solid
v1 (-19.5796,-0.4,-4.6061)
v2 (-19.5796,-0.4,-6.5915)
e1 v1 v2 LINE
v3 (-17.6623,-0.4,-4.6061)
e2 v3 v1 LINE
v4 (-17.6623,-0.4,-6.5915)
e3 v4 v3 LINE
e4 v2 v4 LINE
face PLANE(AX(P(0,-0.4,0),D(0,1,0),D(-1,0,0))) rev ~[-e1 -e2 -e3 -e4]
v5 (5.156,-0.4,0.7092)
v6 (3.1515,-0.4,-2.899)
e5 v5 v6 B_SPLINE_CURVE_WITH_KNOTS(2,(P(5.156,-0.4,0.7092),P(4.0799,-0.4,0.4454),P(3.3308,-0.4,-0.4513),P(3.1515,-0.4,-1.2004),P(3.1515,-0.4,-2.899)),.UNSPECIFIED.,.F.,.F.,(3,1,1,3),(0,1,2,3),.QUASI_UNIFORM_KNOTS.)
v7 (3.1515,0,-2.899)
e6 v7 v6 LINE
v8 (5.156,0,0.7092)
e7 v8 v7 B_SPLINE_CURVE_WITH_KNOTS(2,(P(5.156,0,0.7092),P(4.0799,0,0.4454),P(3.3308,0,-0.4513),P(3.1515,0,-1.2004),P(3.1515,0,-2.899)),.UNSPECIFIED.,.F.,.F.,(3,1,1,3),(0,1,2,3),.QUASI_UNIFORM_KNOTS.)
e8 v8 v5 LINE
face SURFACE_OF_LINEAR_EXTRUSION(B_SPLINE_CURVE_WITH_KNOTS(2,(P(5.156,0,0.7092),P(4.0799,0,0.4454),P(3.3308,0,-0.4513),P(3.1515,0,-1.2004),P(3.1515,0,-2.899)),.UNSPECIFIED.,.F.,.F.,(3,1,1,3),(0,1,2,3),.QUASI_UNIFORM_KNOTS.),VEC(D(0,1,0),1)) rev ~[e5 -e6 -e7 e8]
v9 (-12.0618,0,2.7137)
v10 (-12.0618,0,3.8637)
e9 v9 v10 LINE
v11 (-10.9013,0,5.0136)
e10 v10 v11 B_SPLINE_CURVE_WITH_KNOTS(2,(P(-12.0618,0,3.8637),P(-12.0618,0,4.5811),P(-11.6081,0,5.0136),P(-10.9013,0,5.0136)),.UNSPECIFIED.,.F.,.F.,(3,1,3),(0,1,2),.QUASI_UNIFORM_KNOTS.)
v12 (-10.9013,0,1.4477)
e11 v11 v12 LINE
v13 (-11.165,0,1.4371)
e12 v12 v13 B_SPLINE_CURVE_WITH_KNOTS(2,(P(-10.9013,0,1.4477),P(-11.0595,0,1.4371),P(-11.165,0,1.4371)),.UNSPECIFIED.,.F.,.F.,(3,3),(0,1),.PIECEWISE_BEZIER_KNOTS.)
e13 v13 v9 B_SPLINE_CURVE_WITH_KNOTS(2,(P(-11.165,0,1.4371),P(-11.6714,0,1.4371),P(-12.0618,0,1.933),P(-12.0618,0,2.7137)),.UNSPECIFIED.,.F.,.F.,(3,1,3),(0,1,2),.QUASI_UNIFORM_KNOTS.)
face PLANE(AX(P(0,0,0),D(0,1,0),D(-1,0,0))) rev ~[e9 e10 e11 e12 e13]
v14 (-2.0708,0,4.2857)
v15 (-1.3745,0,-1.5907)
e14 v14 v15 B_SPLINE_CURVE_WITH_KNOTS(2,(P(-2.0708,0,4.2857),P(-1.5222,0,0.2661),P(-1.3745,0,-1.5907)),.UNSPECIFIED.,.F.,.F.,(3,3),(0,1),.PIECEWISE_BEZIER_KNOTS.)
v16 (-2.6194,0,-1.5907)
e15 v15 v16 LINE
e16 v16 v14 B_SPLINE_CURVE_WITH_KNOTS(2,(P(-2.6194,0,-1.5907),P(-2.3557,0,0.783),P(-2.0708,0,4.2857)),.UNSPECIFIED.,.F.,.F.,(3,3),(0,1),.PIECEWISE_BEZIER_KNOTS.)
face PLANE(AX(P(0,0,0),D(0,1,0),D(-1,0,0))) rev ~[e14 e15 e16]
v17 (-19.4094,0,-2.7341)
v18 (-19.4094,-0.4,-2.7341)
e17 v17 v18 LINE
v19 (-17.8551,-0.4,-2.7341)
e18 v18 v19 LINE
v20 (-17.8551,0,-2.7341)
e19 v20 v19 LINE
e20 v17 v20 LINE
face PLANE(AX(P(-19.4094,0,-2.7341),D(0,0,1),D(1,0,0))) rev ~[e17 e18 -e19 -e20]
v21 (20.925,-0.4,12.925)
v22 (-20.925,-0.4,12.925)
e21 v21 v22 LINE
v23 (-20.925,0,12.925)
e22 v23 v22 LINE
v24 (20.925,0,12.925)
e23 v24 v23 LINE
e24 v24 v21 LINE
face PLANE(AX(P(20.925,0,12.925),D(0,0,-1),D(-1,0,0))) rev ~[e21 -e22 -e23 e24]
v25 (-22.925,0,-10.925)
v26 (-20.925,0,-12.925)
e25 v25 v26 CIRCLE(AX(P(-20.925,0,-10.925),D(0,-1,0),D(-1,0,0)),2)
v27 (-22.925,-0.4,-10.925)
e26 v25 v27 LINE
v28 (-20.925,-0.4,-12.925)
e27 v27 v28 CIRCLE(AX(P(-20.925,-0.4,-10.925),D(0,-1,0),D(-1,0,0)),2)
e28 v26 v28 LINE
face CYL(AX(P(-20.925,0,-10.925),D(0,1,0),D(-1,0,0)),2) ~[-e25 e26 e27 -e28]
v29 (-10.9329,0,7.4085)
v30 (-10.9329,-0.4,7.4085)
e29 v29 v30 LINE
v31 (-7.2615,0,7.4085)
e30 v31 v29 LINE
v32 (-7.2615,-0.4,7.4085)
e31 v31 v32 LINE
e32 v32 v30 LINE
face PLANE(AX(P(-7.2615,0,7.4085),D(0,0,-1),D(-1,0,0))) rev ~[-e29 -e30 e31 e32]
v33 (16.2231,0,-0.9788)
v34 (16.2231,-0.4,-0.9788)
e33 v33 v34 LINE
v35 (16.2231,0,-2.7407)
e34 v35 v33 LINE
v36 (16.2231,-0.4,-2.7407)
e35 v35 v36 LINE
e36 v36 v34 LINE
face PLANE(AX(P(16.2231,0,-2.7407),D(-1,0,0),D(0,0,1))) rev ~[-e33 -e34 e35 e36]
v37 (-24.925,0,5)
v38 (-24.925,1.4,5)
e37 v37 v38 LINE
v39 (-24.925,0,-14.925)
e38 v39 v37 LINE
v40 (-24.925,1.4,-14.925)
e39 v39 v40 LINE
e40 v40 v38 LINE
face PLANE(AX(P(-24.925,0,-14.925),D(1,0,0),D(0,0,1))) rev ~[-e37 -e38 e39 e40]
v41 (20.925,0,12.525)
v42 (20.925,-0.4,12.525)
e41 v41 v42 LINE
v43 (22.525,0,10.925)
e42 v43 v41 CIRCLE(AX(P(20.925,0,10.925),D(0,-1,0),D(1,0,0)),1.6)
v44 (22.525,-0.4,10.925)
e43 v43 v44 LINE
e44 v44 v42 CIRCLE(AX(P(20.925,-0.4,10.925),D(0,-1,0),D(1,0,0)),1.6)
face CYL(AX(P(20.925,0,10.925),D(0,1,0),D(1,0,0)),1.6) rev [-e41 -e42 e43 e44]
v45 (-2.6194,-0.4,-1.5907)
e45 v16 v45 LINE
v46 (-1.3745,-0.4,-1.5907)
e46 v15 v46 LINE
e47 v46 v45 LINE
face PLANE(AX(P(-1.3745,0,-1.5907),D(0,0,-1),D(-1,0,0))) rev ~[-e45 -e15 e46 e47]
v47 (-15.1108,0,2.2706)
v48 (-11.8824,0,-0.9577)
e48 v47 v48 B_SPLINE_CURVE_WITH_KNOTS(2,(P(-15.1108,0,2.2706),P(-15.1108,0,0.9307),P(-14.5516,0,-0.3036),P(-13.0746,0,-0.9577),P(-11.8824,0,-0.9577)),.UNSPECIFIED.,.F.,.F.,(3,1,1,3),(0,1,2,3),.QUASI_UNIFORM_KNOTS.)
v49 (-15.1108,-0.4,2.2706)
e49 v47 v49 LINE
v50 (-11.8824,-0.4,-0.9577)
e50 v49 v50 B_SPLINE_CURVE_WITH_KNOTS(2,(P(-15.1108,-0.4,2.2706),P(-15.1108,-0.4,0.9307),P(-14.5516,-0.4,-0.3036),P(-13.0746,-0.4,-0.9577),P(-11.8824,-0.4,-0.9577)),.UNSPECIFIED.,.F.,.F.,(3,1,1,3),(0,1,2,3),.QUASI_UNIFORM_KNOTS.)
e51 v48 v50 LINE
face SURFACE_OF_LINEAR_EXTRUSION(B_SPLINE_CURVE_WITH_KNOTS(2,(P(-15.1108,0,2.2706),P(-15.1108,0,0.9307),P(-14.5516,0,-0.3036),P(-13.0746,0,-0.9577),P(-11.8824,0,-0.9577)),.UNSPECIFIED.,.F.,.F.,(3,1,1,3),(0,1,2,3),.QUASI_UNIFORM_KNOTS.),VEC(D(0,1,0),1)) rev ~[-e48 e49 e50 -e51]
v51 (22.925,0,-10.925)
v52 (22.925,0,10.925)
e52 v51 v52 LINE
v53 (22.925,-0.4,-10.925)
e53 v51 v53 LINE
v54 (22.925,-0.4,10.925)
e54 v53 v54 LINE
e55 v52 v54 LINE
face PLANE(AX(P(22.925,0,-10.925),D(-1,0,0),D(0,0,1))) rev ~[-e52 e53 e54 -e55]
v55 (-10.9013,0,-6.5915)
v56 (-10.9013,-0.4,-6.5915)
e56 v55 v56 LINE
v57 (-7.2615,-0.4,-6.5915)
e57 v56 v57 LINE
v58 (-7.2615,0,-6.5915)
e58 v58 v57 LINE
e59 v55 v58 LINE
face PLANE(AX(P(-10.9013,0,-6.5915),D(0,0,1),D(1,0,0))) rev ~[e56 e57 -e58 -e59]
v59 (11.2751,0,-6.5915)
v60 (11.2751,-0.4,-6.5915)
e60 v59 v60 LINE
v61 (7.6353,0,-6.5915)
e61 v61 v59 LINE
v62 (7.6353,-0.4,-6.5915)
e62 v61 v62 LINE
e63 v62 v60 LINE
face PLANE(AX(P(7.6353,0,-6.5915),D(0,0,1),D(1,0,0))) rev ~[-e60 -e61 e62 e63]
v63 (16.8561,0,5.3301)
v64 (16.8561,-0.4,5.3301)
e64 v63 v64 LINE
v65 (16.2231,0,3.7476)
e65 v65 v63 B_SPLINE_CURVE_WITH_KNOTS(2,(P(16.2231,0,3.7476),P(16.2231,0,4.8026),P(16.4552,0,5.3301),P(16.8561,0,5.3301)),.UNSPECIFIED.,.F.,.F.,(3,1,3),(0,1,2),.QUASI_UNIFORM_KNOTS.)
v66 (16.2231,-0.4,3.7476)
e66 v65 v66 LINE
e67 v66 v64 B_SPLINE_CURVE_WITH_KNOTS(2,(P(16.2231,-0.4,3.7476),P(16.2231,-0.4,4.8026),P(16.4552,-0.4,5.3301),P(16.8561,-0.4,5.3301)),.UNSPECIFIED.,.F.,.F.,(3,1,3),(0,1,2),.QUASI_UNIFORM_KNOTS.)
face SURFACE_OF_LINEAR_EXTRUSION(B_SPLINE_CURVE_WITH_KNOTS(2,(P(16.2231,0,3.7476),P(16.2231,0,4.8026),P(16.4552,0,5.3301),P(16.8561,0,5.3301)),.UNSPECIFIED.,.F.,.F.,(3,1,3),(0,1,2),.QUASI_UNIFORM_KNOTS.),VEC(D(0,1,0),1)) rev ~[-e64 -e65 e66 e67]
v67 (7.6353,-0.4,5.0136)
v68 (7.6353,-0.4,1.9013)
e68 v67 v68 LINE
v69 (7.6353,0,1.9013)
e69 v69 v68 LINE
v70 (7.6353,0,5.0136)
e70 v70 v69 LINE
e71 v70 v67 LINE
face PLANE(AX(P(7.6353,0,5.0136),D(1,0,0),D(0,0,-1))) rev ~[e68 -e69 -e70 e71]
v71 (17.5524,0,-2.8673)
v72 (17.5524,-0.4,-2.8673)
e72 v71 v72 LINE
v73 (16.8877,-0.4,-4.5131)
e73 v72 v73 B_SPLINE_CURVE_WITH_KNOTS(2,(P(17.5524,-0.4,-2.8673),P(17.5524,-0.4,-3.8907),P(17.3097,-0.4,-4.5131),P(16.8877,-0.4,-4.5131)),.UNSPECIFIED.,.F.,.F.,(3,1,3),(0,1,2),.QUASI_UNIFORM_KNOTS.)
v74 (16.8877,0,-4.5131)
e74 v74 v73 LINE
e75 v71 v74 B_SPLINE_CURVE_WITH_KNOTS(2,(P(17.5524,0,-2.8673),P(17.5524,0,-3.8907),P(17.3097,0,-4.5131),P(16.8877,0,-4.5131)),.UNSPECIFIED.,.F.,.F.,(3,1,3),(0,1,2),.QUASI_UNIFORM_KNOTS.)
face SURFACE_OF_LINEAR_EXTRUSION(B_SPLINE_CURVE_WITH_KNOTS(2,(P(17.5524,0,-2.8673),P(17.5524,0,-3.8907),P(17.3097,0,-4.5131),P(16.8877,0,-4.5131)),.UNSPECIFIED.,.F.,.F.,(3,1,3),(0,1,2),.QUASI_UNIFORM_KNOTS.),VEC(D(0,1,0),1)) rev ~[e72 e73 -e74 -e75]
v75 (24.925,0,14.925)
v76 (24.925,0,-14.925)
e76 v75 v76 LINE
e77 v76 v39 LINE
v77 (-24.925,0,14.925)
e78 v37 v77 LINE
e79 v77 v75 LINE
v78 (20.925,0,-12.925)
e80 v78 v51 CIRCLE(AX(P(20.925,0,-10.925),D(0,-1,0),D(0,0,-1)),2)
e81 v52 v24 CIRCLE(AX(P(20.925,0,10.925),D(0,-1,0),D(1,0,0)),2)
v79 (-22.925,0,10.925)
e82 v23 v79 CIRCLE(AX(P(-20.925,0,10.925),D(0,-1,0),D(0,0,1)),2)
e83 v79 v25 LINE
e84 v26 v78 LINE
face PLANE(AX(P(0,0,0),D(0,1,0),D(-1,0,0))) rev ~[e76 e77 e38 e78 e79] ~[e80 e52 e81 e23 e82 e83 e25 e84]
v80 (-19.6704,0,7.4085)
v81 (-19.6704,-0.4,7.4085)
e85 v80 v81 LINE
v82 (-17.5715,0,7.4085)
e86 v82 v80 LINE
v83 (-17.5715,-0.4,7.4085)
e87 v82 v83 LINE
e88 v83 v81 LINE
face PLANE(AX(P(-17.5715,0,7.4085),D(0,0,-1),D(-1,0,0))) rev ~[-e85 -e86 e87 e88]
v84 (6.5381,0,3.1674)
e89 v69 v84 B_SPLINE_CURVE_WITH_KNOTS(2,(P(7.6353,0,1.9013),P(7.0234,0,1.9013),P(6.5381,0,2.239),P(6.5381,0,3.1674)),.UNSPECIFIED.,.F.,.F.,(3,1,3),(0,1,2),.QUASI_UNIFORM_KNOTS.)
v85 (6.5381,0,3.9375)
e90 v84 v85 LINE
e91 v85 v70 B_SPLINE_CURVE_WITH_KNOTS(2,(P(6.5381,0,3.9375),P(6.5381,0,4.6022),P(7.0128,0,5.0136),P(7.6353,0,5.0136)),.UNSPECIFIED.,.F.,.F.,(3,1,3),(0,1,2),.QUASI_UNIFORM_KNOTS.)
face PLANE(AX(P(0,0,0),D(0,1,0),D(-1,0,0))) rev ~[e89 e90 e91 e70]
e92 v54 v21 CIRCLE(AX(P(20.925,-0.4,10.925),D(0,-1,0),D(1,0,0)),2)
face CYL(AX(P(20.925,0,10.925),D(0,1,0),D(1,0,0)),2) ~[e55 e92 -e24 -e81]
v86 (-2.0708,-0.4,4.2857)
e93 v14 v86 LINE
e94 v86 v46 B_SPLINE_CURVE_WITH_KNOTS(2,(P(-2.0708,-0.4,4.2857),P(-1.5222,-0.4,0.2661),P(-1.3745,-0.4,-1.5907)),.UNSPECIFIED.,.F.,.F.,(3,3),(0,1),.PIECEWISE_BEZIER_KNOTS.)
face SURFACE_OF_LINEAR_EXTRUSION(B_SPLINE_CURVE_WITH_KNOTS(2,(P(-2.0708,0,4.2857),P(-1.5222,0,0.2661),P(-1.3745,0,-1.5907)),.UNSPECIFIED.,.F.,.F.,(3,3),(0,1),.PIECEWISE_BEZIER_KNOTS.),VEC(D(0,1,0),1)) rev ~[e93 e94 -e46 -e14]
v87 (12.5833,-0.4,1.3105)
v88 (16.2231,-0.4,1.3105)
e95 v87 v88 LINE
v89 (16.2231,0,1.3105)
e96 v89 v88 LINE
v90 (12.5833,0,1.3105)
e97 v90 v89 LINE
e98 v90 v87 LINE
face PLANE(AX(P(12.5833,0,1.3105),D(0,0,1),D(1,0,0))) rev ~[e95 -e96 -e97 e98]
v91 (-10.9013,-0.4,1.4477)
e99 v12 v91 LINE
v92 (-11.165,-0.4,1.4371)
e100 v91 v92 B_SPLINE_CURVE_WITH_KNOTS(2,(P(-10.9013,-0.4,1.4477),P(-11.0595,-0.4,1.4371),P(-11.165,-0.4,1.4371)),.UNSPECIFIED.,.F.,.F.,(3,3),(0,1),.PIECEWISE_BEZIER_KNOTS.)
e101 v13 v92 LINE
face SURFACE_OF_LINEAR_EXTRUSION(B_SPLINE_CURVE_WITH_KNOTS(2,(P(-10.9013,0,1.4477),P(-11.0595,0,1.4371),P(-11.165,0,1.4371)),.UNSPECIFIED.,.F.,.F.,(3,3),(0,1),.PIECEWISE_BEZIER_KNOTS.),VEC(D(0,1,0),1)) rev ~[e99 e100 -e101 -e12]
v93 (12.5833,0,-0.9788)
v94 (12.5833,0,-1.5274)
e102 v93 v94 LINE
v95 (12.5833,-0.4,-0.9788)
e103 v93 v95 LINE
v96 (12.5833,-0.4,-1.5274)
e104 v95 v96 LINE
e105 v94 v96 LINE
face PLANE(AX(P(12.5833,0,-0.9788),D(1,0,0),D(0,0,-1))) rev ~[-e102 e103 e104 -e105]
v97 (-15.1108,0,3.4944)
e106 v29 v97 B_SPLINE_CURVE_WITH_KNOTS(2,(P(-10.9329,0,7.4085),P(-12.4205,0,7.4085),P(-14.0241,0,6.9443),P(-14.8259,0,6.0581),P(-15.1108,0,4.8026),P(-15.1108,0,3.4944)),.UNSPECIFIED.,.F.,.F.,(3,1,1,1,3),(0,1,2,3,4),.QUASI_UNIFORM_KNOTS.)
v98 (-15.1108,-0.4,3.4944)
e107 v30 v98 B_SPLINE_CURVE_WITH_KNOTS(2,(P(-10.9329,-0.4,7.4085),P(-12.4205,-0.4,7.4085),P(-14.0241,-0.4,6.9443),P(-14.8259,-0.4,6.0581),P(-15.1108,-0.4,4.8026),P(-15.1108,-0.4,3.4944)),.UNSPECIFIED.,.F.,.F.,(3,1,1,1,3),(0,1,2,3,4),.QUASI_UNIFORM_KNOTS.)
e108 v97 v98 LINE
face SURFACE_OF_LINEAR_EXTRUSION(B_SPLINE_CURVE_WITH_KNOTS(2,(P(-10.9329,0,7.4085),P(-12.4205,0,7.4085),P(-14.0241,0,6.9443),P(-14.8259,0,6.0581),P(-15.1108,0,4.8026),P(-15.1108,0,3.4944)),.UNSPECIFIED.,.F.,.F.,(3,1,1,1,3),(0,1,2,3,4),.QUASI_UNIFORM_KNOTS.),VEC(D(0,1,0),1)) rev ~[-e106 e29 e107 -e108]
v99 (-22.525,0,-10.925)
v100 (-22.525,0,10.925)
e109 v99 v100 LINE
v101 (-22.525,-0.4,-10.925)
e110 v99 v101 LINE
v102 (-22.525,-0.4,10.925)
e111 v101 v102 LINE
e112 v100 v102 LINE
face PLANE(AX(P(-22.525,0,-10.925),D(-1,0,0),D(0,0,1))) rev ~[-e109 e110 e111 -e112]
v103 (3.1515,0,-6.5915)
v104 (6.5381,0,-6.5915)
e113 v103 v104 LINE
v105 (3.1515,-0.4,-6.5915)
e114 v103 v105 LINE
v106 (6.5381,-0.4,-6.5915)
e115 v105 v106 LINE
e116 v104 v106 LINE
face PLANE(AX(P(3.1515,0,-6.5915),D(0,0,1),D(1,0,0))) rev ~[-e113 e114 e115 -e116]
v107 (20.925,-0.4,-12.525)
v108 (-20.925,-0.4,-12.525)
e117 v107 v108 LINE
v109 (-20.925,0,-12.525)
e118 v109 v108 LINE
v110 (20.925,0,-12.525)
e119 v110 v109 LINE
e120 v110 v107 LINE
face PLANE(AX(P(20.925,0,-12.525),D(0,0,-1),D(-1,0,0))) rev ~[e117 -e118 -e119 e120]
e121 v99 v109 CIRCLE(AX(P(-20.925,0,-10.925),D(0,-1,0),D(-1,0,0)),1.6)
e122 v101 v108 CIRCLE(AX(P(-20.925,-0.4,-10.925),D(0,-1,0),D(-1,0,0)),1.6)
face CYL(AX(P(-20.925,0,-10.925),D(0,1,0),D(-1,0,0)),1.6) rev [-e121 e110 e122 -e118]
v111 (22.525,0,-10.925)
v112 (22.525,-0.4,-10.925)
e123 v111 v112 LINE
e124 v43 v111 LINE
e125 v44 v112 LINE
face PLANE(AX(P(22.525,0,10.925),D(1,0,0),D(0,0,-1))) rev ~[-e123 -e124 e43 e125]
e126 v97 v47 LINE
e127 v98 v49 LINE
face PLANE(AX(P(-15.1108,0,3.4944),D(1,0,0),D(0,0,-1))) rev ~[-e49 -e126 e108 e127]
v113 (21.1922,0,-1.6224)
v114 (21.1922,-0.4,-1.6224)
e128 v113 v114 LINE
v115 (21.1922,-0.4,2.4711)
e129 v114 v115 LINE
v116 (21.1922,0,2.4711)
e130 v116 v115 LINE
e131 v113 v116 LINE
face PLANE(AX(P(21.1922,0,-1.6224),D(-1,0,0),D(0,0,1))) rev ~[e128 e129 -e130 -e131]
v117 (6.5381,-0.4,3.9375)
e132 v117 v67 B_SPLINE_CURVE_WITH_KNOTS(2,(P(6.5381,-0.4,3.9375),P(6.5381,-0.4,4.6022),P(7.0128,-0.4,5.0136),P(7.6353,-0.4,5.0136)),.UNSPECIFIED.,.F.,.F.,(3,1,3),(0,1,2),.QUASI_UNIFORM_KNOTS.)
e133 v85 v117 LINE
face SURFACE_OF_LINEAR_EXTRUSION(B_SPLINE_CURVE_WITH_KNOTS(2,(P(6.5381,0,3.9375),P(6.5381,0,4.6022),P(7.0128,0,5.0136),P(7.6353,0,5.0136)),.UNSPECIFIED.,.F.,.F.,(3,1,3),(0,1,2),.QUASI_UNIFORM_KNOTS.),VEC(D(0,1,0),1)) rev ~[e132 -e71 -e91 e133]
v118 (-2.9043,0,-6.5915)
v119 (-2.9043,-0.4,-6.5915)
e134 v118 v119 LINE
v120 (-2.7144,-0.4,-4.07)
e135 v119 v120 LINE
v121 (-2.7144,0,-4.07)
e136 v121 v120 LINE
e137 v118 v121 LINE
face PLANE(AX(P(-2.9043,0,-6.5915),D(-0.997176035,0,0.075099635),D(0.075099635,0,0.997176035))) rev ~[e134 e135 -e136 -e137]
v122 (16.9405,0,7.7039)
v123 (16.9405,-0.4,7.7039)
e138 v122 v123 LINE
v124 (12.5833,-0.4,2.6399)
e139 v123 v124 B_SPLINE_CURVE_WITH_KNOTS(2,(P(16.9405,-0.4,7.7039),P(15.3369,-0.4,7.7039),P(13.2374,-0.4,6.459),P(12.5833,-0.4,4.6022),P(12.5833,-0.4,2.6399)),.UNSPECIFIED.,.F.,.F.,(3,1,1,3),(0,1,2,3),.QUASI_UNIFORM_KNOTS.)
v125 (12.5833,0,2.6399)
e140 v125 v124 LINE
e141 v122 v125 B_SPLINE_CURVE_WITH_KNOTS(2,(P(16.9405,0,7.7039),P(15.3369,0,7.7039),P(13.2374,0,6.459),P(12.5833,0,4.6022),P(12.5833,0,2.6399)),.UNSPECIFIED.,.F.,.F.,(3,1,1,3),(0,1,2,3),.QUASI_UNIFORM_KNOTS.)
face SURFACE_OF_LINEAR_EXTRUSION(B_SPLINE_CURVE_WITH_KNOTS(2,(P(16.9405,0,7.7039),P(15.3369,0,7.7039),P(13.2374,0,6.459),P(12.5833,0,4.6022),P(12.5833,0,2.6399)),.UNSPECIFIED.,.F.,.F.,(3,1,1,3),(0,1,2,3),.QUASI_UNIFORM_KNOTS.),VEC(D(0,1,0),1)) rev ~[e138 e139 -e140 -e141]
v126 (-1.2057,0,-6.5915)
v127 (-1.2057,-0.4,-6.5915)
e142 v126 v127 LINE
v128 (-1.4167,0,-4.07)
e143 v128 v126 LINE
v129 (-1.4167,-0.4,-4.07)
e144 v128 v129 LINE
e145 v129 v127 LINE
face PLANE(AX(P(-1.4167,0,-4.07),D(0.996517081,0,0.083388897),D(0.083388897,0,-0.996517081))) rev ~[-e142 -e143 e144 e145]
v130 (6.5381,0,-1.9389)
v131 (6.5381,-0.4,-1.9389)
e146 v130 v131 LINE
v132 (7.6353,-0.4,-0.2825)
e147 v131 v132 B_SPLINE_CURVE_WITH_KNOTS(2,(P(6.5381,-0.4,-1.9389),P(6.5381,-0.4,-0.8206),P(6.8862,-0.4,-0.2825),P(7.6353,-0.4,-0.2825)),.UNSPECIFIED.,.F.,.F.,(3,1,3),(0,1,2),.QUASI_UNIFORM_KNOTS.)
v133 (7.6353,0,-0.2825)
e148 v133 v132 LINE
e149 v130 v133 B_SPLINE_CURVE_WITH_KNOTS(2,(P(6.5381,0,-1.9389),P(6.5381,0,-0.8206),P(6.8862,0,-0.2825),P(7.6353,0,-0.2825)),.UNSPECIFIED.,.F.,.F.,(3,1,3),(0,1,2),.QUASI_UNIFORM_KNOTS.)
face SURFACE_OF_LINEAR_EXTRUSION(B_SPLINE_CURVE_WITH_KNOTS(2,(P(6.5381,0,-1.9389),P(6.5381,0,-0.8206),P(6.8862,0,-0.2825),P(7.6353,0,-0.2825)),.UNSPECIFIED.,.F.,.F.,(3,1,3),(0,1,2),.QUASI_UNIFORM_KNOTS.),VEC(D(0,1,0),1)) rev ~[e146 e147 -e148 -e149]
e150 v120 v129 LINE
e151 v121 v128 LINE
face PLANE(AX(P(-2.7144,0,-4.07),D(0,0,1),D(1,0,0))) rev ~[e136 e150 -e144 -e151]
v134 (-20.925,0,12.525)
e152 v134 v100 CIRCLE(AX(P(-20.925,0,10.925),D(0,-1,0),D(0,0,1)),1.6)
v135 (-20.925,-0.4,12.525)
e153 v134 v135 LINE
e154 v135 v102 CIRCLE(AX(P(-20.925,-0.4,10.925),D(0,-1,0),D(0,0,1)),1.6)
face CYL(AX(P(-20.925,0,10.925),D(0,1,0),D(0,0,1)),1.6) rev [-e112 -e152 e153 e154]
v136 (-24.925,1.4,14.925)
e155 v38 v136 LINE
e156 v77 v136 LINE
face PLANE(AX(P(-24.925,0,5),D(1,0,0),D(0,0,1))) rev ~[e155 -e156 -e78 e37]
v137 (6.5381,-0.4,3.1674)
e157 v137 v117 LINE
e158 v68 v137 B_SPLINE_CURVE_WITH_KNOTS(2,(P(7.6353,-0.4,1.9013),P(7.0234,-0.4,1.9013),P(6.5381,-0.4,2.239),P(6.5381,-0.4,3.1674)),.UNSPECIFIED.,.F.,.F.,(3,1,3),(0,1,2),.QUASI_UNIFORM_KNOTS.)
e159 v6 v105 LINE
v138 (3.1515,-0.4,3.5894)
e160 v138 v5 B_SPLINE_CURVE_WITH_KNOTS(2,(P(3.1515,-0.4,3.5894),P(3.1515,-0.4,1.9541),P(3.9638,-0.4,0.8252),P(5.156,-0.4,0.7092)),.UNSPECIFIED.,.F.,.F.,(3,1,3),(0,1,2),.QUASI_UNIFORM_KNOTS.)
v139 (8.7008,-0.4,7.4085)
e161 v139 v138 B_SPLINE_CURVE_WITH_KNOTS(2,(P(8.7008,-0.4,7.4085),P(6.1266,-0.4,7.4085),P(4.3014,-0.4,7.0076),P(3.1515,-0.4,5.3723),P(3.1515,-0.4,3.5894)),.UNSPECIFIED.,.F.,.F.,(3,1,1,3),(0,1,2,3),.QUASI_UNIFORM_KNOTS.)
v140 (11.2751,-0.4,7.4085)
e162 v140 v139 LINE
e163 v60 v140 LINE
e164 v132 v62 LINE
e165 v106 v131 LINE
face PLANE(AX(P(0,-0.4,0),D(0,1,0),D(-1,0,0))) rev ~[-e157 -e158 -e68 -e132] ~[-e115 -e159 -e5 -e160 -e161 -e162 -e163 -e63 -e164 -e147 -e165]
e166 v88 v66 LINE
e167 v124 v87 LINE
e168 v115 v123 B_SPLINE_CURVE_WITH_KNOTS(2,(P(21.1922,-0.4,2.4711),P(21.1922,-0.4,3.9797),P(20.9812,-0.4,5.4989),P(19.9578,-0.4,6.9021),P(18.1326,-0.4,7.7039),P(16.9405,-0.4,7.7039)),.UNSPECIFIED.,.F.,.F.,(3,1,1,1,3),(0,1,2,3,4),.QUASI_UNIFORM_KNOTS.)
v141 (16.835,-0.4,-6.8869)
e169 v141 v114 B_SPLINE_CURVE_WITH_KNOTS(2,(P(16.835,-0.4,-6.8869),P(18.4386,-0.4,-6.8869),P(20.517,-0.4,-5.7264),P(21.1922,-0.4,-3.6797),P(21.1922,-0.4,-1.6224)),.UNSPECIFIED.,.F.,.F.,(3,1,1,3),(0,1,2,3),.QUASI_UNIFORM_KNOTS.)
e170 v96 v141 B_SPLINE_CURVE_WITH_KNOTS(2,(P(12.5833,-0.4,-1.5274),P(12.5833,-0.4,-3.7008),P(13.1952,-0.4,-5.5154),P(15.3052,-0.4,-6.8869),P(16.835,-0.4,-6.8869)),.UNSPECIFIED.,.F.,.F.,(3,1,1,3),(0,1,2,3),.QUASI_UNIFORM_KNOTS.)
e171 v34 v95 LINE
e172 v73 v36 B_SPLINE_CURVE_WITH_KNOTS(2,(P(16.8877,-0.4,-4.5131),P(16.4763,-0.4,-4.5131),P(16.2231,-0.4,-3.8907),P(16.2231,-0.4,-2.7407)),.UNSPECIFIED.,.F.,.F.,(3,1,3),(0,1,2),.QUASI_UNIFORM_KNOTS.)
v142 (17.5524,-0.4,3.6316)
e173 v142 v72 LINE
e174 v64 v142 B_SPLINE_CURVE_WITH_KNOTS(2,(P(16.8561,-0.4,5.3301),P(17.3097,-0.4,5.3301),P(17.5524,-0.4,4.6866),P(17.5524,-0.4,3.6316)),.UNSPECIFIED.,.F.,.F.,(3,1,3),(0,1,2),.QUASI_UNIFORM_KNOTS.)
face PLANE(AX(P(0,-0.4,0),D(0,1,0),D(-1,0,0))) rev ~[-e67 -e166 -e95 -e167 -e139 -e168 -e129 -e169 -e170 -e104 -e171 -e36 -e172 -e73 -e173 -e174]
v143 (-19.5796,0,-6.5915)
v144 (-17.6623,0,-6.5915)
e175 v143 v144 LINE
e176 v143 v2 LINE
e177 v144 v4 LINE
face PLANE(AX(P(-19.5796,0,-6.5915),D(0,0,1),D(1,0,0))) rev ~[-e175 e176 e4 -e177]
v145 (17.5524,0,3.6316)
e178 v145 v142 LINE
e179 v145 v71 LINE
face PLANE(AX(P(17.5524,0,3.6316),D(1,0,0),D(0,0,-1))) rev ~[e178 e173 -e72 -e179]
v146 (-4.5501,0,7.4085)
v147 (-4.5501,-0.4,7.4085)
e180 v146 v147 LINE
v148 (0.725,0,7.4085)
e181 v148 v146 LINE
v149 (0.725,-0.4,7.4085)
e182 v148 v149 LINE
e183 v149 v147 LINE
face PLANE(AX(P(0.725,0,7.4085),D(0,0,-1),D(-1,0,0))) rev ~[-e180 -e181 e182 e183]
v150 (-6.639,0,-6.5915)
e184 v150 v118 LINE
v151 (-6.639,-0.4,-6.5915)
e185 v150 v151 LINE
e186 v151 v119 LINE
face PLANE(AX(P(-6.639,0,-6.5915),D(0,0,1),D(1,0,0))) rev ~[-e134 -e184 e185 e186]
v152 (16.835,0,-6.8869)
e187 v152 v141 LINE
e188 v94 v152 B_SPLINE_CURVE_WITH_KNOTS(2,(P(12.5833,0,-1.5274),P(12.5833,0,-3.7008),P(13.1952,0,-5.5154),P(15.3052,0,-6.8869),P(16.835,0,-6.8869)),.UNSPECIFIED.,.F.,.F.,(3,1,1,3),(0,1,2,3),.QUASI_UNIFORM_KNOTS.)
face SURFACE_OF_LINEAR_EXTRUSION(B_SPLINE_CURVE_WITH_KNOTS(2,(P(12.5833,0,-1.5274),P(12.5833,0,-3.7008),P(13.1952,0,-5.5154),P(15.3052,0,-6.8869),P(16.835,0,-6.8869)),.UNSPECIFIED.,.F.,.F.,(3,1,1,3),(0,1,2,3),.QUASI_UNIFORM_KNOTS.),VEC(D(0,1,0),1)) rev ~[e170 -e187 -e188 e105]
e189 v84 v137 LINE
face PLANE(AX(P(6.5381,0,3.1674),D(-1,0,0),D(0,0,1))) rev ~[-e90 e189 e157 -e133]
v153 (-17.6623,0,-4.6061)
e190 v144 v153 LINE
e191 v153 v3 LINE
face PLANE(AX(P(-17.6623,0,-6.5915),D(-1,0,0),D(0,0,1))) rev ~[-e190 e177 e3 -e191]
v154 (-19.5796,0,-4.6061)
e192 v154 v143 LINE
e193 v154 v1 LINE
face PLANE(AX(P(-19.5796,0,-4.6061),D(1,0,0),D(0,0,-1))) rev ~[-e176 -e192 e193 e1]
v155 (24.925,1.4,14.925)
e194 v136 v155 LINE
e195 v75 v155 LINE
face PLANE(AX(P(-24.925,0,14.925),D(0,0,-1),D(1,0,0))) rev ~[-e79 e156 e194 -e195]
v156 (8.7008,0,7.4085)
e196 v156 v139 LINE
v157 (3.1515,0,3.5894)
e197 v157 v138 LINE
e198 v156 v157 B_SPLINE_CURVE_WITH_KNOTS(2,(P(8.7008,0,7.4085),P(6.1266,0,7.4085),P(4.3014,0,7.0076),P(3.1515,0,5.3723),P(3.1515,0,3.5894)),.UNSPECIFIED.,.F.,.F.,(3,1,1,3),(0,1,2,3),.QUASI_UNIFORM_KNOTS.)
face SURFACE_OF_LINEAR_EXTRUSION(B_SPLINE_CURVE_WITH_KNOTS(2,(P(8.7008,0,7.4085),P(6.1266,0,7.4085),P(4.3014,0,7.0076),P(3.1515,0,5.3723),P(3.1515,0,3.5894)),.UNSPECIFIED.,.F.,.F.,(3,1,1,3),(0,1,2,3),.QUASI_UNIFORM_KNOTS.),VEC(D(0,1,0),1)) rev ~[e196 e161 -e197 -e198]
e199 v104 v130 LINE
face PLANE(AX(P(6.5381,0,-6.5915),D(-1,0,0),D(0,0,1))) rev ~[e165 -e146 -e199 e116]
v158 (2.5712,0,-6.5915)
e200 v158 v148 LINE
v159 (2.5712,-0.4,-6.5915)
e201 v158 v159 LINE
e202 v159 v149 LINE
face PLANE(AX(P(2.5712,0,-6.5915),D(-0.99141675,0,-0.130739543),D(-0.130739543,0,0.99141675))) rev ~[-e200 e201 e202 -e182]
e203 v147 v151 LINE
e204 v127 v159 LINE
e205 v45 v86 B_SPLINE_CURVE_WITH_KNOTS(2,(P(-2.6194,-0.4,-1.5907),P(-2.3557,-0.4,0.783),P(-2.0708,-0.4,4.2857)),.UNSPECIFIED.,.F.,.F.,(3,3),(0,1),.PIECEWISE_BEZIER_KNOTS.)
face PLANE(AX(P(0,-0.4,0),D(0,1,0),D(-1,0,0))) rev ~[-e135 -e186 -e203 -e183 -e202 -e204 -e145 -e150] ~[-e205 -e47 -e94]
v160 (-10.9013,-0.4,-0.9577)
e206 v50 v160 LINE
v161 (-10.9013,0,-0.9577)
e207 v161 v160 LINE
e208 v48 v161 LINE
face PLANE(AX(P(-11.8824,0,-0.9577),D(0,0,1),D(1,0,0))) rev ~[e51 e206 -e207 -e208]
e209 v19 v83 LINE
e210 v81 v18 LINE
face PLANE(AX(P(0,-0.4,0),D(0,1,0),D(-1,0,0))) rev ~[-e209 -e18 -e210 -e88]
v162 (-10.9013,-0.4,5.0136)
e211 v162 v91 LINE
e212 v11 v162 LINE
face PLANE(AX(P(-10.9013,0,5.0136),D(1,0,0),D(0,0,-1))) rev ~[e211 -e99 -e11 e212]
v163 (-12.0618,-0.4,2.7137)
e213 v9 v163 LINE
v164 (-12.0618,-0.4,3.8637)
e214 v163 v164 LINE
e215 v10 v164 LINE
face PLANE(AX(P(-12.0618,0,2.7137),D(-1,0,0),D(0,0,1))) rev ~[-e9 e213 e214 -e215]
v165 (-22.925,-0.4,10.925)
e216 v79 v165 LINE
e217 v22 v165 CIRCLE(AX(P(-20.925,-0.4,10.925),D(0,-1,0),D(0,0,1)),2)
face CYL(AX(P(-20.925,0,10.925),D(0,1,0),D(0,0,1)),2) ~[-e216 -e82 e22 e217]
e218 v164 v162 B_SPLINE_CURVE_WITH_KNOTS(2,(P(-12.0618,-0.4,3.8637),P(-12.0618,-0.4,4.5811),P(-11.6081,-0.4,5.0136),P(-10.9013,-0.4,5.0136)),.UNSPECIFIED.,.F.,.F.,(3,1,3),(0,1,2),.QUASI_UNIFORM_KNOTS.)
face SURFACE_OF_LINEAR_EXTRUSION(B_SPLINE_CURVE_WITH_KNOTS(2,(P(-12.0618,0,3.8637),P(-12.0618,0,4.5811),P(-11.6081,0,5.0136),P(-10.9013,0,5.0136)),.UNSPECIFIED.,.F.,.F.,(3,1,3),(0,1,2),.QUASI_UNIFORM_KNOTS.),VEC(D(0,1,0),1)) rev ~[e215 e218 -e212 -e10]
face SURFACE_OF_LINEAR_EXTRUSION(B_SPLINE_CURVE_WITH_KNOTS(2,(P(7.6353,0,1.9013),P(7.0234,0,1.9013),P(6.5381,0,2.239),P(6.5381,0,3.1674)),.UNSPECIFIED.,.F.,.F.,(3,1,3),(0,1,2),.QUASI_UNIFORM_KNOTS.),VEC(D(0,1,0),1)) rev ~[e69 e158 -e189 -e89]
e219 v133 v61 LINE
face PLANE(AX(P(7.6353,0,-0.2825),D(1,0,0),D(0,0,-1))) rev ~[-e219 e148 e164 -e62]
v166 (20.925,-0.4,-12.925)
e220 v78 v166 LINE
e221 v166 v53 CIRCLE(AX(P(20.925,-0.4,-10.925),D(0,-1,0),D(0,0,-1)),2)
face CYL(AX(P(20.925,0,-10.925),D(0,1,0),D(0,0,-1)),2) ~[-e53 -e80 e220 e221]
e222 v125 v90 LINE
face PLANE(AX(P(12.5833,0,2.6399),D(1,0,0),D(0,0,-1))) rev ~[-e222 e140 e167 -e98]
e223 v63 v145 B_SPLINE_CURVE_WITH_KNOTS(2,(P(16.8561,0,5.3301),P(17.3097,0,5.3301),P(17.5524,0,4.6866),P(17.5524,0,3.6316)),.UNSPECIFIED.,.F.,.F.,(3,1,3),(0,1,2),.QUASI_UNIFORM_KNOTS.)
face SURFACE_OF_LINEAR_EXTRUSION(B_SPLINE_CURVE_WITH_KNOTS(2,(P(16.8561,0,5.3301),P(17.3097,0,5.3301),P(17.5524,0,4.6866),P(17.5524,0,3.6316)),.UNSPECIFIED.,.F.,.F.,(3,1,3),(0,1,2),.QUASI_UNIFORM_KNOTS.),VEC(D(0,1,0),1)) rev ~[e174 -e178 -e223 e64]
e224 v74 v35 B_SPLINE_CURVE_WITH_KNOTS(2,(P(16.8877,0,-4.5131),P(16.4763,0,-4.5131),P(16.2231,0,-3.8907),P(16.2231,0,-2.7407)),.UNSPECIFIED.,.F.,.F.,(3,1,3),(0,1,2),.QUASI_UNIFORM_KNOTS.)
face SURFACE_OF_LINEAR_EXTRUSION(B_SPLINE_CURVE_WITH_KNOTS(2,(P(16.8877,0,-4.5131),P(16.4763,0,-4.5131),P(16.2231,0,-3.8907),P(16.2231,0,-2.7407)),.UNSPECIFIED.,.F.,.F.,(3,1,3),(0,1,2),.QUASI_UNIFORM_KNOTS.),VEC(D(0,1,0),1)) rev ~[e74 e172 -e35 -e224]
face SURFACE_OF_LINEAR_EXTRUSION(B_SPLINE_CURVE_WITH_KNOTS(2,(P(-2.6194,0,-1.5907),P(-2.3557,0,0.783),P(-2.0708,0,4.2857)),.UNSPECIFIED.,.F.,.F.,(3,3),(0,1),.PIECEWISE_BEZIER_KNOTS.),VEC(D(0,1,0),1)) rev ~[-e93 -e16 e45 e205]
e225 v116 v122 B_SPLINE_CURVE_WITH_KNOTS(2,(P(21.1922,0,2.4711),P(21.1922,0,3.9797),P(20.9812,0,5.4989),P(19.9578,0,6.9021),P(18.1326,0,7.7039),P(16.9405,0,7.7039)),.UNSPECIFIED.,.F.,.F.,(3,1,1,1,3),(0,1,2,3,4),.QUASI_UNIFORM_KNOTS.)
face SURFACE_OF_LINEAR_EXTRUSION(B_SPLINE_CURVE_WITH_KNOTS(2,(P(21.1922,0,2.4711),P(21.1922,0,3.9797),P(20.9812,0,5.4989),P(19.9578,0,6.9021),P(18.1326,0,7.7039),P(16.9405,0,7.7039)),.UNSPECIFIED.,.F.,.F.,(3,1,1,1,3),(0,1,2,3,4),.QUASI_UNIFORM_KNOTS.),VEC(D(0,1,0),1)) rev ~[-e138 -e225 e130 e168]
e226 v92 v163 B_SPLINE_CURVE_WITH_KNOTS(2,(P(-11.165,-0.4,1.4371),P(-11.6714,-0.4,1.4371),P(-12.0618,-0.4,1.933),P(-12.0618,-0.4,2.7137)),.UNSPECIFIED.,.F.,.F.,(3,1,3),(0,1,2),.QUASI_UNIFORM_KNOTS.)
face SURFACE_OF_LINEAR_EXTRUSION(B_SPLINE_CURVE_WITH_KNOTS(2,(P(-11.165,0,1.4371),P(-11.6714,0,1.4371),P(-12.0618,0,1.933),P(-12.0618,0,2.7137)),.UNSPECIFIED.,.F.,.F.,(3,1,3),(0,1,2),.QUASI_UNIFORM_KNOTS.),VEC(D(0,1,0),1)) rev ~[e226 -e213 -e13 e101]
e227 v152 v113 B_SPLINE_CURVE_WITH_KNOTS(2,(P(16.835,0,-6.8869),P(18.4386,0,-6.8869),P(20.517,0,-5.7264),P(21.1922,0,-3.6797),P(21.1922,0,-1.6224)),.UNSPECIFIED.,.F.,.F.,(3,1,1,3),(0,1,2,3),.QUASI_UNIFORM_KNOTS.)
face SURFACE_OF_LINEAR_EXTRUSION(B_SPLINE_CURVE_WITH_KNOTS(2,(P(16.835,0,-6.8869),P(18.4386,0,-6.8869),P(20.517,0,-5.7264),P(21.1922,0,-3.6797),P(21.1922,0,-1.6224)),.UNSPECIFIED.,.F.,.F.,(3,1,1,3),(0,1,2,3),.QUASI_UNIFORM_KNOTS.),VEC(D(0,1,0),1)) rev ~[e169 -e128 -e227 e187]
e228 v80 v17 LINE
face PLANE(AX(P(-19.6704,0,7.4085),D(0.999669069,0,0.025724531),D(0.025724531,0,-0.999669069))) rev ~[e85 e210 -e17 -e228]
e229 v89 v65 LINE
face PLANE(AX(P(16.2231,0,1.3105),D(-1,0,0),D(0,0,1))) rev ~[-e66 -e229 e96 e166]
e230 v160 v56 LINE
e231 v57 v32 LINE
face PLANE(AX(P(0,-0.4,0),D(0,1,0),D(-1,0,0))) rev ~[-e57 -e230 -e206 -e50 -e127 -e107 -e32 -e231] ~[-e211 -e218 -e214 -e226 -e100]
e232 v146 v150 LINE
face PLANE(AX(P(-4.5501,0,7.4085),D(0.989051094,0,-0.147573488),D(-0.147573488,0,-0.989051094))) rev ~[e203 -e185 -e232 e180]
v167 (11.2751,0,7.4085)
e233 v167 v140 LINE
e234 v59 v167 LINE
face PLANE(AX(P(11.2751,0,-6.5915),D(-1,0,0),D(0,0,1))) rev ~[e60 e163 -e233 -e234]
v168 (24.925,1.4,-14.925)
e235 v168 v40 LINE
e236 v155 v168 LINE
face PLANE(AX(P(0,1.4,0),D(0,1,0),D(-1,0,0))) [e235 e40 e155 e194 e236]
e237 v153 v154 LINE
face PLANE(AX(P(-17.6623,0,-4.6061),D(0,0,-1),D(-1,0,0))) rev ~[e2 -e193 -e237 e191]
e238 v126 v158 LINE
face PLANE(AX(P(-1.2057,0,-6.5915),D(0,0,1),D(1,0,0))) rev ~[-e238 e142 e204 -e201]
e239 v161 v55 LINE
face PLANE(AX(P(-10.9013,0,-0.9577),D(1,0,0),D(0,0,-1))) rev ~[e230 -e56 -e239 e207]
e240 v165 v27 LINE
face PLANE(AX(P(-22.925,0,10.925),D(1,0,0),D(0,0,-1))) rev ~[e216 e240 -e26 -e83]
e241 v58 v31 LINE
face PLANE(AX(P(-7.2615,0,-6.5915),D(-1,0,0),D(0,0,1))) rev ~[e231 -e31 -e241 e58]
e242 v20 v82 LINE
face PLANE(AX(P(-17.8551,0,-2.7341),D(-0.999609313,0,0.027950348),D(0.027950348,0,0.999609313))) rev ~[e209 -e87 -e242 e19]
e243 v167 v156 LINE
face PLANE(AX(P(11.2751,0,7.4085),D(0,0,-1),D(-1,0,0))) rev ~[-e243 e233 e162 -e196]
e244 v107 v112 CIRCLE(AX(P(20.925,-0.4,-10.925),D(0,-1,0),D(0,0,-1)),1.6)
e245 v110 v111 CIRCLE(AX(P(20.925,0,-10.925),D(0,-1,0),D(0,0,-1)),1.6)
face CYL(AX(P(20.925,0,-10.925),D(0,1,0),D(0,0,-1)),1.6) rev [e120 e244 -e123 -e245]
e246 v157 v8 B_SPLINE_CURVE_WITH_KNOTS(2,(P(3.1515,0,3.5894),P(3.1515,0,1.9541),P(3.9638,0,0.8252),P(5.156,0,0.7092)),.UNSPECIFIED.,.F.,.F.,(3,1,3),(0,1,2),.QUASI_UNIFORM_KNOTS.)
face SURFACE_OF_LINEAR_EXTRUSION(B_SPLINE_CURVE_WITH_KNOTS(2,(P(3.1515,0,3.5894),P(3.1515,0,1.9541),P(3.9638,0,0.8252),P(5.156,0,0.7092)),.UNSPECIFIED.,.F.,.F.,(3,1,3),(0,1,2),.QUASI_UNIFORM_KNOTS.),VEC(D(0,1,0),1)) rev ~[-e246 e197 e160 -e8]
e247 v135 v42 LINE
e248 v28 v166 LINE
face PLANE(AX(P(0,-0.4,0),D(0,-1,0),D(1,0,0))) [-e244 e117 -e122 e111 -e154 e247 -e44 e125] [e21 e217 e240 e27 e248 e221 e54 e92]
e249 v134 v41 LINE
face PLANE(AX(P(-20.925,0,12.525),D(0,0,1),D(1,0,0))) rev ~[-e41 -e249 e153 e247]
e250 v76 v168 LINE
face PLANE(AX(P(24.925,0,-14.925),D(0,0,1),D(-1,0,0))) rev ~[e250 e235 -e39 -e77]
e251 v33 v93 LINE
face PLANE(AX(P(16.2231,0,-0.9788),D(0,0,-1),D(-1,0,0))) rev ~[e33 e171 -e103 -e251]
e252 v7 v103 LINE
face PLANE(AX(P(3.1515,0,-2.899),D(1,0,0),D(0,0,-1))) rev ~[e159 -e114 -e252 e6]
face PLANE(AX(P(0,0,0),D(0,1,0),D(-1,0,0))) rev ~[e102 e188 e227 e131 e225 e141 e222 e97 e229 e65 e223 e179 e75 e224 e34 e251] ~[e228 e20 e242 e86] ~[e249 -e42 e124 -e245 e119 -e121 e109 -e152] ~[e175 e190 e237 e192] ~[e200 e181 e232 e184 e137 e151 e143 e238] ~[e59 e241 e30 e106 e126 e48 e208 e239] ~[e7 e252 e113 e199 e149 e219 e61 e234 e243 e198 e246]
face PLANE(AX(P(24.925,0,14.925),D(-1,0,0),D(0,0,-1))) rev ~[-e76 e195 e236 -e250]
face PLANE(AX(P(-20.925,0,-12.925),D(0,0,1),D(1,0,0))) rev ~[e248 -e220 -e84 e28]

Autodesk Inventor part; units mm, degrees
ref_plane "YZ Plane" through (0, 0, 0) normal (1, 0, 0) x (0, 1, 0)
ref_plane "XZ Plane" through (0, 0, 0) normal (0, 1, 0) x (-1, 0, 0)
ref_plane "XY Plane" through (0, 0, 0) normal (0, 0, 1) x (1, 0, 0)
sketch "Sketch1" plane through (0, 0, 0) normal (0, 1, 0) x (-1, 0, 0)
  line L0 (24.925, 14.925) -> (-24.925, 14.925)
  line L1 (-24.925, 14.925) -> (-24.925, -14.925)
  line L2 (-24.925, -14.925) -> (24.925, -14.925)
  line L3 (24.925, 14.925) -> (-24.925, -14.925) construction
  line L4 (-24.925, 14.925) -> (24.925, -14.925) construction
  line L5 (24.925, -14.925) -> (24.925, 14.925)
  line L6 (24.925, 5) -> (24.925, 14.925)
  point P0 (0, 0)
  dimension "d0" = 49.85
  dimension "d1" = 29.85
extrude "Extrusion1" add sketch "Sketch1" along normal blind 1.4
sketch "Sketch2" plane through (0, 0, 0) normal (0, -1, 0) x (1, 0, 0)
  point P0 (0, 0)
sketch "Sketch3" plane through (-24.925, 0, -14.925) normal (-1, 0, 0) x (0, 0, 1)
  point P0 (14.925, 0)
ref_plane "Work Plane1" through (0, 0, 0) normal (0, 1, 0) x (-1, 0, 0)
sketch "Sketch5" plane through (0, 0, 0) normal (0, 1, 0) x (-1, 0, 0)
  line L0 (-24.925, 14.925) -> (24.925, 14.925) projected
  line L1 (24.925, -14.925) -> (-24.925, -14.925) projected
  line L2 (24.925, 14.925) -> (24.925, -14.925) projected
  line L3 (-19.3821, 7.7039) -> (19.3821, 7.7039) construction
  line L4 (19.3821, 7.7039) -> (19.3821, -7.7039) construction
  line L5 (19.3821, -7.7039) -> (-19.3821, -7.7039) construction
  line L6 (-19.3821, -7.7039) -> (-19.3821, 7.7039) construction
  line L7 (-24.925, -14.925) -> (-24.925, 14.925) projected
  line L8 (-12.5833, 1.3105) -> (-16.2231, 1.3105)
  line L9 (-16.2231, 1.3105) -> (-16.2231, 3.7476)
  spline S0 degree 2 poles (-16.2231, 3.7476) (-16.2231, 4.8026) (-16.4552, 5.3301) (-16.8561, 5.3301) knots 0 0 0 1 2 2 2
  spline S1 degree 2 poles (-16.8561, 5.3301) (-17.3097, 5.3301) (-17.5524, 4.6866) (-17.5524, 3.6316) knots 0 0 0 1 2 2 2
  line L10 (-17.5524, 3.6316) -> (-17.5524, -2.8673)
  spline S2 degree 2 poles (-17.5524, -2.8673) (-17.5524, -3.8907) (-17.3097, -4.5131) (-16.8877, -4.5131) knots 0 0 0 1 2 2 2
  spline S3 degree 2 poles (-16.8877, -4.5131) (-16.4763, -4.5131) (-16.2231, -3.8907) (-16.2231, -2.7407) knots 0 0 0 1 2 2 2
  line L11 (-16.2231, -2.7407) -> (-16.2231, -0.9788)
  line L12 (-16.2231, -0.9788) -> (-12.5833, -0.9788)
  line L13 (-12.5833, -0.9788) -> (-12.5833, -1.5274)
  spline S4 degree 2 poles (-12.5833, -1.5274) (-12.5833, -3.7008) (-13.1952, -5.5154) (-15.3052, -6.8869) (-16.835, -6.8869) knots 0 0 0 1 2 3 3 3
  spline S5 degree 2 poles (-16.835, -6.8869) (-18.4386, -6.8869) (-20.517, -5.7264) (-21.1922, -3.6797) (-21.1922, -1.6224) knots 0 0 0 1 2 3 3 3
  line L14 (-21.1922, -1.6224) -> (-21.1922, 2.4711)
  spline S6 degree 2 poles (-21.1922, 2.4711) (-21.1922, 3.9797) (-20.9812, 5.4989) (-19.9578, 6.9021) (-18.1326, 7.7039) (-16.9405, 7.7039) knots 0 0 0 1 2 3 4 4 4
  spline S7 degree 2 poles (-16.9405, 7.7039) (-15.3369, 7.7039) (-13.2374, 6.459) (-12.5833, 4.6022) (-12.5833, 2.6399) knots 0 0 0 1 2 3 3 3
  line L15 (-12.5833, 2.6399) -> (-12.5833, 1.3105)
  line L16 (-11.2751, 7.4085) -> (-8.7008, 7.4085)
  spline S8 degree 2 poles (-8.7008, 7.4085) (-6.1266, 7.4085) (-4.3014, 7.0076) (-3.1515, 5.3723) (-3.1515, 3.5894) knots 0 0 0 1 2 3 3 3
  spline S9 degree 2 poles (-3.1515, 3.5894) (-3.1515, 1.9541) (-3.9638, 0.8252) (-5.156, 0.7092) knots 0 0 0 1 2 2 2
  spline S10 degree 2 poles (-5.156, 0.7092) (-4.0799, 0.4454) (-3.3308, -0.4513) (-3.1515, -1.2004) (-3.1515, -2.899) knots 0 0 0 1 2 3 3 3
  line L17 (-3.1515, -2.899) -> (-3.1515, -6.5915)
  line L18 (-3.1515, -6.5915) -> (-6.5381, -6.5915)
  line L19 (-6.5381, -6.5915) -> (-6.5381, -1.9389)
  spline S11 degree 2 poles (-6.5381, -1.9389) (-6.5381, -0.8206) (-6.8862, -0.2825) (-7.6353, -0.2825) knots 0 0 0 1 2 2 2
  line L20 (-7.6353, -0.2825) -> (-7.6353, -6.5915)
  line L21 (-7.6353, -6.5915) -> (-11.2751, -6.5915)
  line L22 (-11.2751, -6.5915) -> (-11.2751, 7.4085)
  line L23 (-7.6353, 5.0136) -> (-7.6353, 1.9013)
  spline S12 degree 2 poles (-7.6353, 1.9013) (-7.0234, 1.9013) (-6.5381, 2.239) (-6.5381, 3.1674) knots 0 0 0 1 2 2 2
  line L24 (-6.5381, 3.1674) -> (-6.5381, 3.9375)
  spline S13 degree 2 poles (-6.5381, 3.9375) (-6.5381, 4.6022) (-7.0128, 5.0136) (-7.6353, 5.0136) knots 0 0 0 1 2 2 2
  line L25 (4.5501, 7.4085) -> (6.639, -6.5915)
  line L26 (6.639, -6.5915) -> (2.9043, -6.5915)
  line L27 (2.9043, -6.5915) -> (2.7144, -4.07)
  line L28 (2.7144, -4.07) -> (1.4167, -4.07)
  line L29 (1.4167, -4.07) -> (1.2057, -6.5915)
  line L30 (1.2057, -6.5915) -> (-2.5712, -6.5915)
  line L31 (-2.5712, -6.5915) -> (-0.725, 7.4085)
  line L32 (-0.725, 7.4085) -> (4.5501, 7.4085)
  spline S14 degree 2 poles (2.6194, -1.5907) (2.3557, 0.783) (2.0708, 4.2857) knots 0 0 0 1 1 1
  spline S15 degree 2 poles (2.0708, 4.2857) (1.5222, 0.2661) (1.3745, -1.5907) knots 0 0 0 1 1 1
  line L33 (1.3745, -1.5907) -> (2.6194, -1.5907)
  line L34 (7.2615, 7.4085) -> (10.9329, 7.4085)
  spline S16 degree 2 poles (10.9329, 7.4085) (12.4205, 7.4085) (14.0241, 6.9443) (14.8259, 6.0581) (15.1108, 4.8026) (15.1108, 3.4944) knots 0 0 0 1 2 3 4 4 4
  line L35 (15.1108, 3.4944) -> (15.1108, 2.2706)
  spline S17 degree 2 poles (15.1108, 2.2706) (15.1108, 0.9307) (14.5516, -0.3036) (13.0746, -0.9577) (11.8824, -0.9577) knots 0 0 0 1 2 3 3 3
  line L36 (11.8824, -0.9577) -> (10.9013, -0.9577)
  line L37 (10.9013, -0.9577) -> (10.9013, -6.5915)
  line L38 (10.9013, -6.5915) -> (7.2615, -6.5915)
  line L39 (7.2615, -6.5915) -> (7.2615, 7.4085)
  line L40 (10.9013, 5.0136) -> (10.9013, 1.4477)
  spline S18 degree 2 poles (10.9013, 1.4477) (11.0595, 1.4371) (11.165, 1.4371) knots 0 0 0 1 1 1
  spline S19 degree 2 poles (11.165, 1.4371) (11.6714, 1.4371) (12.0618, 1.933) (12.0618, 2.7137) knots 0 0 0 1 2 2 2
  line L41 (12.0618, 2.7137) -> (12.0618, 3.8637)
  spline S20 degree 2 poles (12.0618, 3.8637) (12.0618, 4.5811) (11.6081, 5.0136) (10.9013, 5.0136) knots 0 0 0 1 2 2 2
  line L42 (19.6704, 7.4085) -> (19.4094, -2.7341)
  line L43 (19.4094, -2.7341) -> (17.8551, -2.7341)
  line L44 (17.8551, -2.7341) -> (17.5715, 7.4085)
  line L45 (17.5715, 7.4085) -> (19.6704, 7.4085)
  line L46 (19.5796, -6.5915) -> (17.6623, -6.5915)
  line L47 (17.6623, -6.5915) -> (17.6623, -4.6061)
  line L48 (17.6623, -4.6061) -> (19.5796, -4.6061)
  line L49 (19.5796, -4.6061) -> (19.5796, -6.5915)
  point P0 (0, 0)
  dimension "d13" = 29.85
  dimension "d14" = 49.85
  dimension "d16" = 38.7641
  dimension "d17" = 15.4078
  dimension "d18" = 7.2211
  dimension "d22" = 5.5429
extrude "Extrusion4" add sketch "Sketch5" against normal blind 0.4 contours L8 L9 S0 S1 L10 S2 S3 L11 L12 L13 S4 S5 L14 S6 S7 L15 | L16 S8 S9 S10 L17 L18 L19 S11 L20 L21 L22 | L25 L26 L27 L28 L29 L30 L31 L32 | L34 S16 L35 S17 L36 L37 L38 L39 | L42 L43 L44 L45 | L46 L47 L48 L49
sketch "Sketch6" plane through (0, 0, 0) normal (0, -1, 0) x (1, 0, 0)
  line L0 (-24.925, 14.925) -> (-24.925, -14.925) projected
  line L1 (24.925, 14.925) -> (-24.925, 14.925) projected
  line L2 (24.925, -14.925) -> (24.925, 14.925) projected
  line L3 (-24.925, -14.925) -> (24.925, -14.925) projected
  line L4 (-22.925, 10.925) -> (-22.925, -10.925)
  line L5 (-20.925, -12.925) -> (20.925, -12.925)
  line L6 (22.925, -10.925) -> (22.925, 10.925)
  line L7 (20.925, 12.925) -> (-20.925, 12.925)
  arc A0 (-20.925, 12.925) -> (-22.925, 10.925) centre (-20.925, 10.925) ccw
  arc A1 (-22.925, -10.925) -> (-20.925, -12.925) centre (-20.925, -10.925) ccw
  arc A2 (20.925, -12.925) -> (22.925, -10.925) centre (20.925, -10.925) ccw
  arc A3 (22.925, 10.925) -> (20.925, 12.925) centre (20.925, 10.925) ccw
  line L8 (-20.925, 12.525) -> (20.925, 12.525)
  arc A4 (22.525, 10.925) -> (20.925, 12.525) centre (20.925, 10.925) ccw
  line L9 (22.525, 10.925) -> (22.525, -10.925)
  arc A5 (20.925, -12.525) -> (22.525, -10.925) centre (20.925, -10.925) ccw
  line L10 (20.925, -12.525) -> (-20.925, -12.525)
  arc A6 (-22.525, -10.925) -> (-20.925, -12.525) centre (-20.925, -10.925) ccw
  line L11 (-22.525, -10.925) -> (-22.525, 10.925)
  arc A7 (-20.925, 12.525) -> (-22.525, 10.925) centre (-20.925, 10.925) ccw
  point P0 (0, 0)
  dimension "d23" = 2
  dimension "d24" = 2
  dimension "d25" = 0.4
extrude "Extrusion5" add sketch "Sketch6" along normal blind 0.4 contours A0 L7 A3 L6 A2 L5 A1 L4
equation "\"d18\" = 0.5 * d13 - 0.5 * d17"
equation "\"d22\" = 0.5 * d14 - 0.5 * d16"
properties part number "stamp5x3" material "PET Plastic"
